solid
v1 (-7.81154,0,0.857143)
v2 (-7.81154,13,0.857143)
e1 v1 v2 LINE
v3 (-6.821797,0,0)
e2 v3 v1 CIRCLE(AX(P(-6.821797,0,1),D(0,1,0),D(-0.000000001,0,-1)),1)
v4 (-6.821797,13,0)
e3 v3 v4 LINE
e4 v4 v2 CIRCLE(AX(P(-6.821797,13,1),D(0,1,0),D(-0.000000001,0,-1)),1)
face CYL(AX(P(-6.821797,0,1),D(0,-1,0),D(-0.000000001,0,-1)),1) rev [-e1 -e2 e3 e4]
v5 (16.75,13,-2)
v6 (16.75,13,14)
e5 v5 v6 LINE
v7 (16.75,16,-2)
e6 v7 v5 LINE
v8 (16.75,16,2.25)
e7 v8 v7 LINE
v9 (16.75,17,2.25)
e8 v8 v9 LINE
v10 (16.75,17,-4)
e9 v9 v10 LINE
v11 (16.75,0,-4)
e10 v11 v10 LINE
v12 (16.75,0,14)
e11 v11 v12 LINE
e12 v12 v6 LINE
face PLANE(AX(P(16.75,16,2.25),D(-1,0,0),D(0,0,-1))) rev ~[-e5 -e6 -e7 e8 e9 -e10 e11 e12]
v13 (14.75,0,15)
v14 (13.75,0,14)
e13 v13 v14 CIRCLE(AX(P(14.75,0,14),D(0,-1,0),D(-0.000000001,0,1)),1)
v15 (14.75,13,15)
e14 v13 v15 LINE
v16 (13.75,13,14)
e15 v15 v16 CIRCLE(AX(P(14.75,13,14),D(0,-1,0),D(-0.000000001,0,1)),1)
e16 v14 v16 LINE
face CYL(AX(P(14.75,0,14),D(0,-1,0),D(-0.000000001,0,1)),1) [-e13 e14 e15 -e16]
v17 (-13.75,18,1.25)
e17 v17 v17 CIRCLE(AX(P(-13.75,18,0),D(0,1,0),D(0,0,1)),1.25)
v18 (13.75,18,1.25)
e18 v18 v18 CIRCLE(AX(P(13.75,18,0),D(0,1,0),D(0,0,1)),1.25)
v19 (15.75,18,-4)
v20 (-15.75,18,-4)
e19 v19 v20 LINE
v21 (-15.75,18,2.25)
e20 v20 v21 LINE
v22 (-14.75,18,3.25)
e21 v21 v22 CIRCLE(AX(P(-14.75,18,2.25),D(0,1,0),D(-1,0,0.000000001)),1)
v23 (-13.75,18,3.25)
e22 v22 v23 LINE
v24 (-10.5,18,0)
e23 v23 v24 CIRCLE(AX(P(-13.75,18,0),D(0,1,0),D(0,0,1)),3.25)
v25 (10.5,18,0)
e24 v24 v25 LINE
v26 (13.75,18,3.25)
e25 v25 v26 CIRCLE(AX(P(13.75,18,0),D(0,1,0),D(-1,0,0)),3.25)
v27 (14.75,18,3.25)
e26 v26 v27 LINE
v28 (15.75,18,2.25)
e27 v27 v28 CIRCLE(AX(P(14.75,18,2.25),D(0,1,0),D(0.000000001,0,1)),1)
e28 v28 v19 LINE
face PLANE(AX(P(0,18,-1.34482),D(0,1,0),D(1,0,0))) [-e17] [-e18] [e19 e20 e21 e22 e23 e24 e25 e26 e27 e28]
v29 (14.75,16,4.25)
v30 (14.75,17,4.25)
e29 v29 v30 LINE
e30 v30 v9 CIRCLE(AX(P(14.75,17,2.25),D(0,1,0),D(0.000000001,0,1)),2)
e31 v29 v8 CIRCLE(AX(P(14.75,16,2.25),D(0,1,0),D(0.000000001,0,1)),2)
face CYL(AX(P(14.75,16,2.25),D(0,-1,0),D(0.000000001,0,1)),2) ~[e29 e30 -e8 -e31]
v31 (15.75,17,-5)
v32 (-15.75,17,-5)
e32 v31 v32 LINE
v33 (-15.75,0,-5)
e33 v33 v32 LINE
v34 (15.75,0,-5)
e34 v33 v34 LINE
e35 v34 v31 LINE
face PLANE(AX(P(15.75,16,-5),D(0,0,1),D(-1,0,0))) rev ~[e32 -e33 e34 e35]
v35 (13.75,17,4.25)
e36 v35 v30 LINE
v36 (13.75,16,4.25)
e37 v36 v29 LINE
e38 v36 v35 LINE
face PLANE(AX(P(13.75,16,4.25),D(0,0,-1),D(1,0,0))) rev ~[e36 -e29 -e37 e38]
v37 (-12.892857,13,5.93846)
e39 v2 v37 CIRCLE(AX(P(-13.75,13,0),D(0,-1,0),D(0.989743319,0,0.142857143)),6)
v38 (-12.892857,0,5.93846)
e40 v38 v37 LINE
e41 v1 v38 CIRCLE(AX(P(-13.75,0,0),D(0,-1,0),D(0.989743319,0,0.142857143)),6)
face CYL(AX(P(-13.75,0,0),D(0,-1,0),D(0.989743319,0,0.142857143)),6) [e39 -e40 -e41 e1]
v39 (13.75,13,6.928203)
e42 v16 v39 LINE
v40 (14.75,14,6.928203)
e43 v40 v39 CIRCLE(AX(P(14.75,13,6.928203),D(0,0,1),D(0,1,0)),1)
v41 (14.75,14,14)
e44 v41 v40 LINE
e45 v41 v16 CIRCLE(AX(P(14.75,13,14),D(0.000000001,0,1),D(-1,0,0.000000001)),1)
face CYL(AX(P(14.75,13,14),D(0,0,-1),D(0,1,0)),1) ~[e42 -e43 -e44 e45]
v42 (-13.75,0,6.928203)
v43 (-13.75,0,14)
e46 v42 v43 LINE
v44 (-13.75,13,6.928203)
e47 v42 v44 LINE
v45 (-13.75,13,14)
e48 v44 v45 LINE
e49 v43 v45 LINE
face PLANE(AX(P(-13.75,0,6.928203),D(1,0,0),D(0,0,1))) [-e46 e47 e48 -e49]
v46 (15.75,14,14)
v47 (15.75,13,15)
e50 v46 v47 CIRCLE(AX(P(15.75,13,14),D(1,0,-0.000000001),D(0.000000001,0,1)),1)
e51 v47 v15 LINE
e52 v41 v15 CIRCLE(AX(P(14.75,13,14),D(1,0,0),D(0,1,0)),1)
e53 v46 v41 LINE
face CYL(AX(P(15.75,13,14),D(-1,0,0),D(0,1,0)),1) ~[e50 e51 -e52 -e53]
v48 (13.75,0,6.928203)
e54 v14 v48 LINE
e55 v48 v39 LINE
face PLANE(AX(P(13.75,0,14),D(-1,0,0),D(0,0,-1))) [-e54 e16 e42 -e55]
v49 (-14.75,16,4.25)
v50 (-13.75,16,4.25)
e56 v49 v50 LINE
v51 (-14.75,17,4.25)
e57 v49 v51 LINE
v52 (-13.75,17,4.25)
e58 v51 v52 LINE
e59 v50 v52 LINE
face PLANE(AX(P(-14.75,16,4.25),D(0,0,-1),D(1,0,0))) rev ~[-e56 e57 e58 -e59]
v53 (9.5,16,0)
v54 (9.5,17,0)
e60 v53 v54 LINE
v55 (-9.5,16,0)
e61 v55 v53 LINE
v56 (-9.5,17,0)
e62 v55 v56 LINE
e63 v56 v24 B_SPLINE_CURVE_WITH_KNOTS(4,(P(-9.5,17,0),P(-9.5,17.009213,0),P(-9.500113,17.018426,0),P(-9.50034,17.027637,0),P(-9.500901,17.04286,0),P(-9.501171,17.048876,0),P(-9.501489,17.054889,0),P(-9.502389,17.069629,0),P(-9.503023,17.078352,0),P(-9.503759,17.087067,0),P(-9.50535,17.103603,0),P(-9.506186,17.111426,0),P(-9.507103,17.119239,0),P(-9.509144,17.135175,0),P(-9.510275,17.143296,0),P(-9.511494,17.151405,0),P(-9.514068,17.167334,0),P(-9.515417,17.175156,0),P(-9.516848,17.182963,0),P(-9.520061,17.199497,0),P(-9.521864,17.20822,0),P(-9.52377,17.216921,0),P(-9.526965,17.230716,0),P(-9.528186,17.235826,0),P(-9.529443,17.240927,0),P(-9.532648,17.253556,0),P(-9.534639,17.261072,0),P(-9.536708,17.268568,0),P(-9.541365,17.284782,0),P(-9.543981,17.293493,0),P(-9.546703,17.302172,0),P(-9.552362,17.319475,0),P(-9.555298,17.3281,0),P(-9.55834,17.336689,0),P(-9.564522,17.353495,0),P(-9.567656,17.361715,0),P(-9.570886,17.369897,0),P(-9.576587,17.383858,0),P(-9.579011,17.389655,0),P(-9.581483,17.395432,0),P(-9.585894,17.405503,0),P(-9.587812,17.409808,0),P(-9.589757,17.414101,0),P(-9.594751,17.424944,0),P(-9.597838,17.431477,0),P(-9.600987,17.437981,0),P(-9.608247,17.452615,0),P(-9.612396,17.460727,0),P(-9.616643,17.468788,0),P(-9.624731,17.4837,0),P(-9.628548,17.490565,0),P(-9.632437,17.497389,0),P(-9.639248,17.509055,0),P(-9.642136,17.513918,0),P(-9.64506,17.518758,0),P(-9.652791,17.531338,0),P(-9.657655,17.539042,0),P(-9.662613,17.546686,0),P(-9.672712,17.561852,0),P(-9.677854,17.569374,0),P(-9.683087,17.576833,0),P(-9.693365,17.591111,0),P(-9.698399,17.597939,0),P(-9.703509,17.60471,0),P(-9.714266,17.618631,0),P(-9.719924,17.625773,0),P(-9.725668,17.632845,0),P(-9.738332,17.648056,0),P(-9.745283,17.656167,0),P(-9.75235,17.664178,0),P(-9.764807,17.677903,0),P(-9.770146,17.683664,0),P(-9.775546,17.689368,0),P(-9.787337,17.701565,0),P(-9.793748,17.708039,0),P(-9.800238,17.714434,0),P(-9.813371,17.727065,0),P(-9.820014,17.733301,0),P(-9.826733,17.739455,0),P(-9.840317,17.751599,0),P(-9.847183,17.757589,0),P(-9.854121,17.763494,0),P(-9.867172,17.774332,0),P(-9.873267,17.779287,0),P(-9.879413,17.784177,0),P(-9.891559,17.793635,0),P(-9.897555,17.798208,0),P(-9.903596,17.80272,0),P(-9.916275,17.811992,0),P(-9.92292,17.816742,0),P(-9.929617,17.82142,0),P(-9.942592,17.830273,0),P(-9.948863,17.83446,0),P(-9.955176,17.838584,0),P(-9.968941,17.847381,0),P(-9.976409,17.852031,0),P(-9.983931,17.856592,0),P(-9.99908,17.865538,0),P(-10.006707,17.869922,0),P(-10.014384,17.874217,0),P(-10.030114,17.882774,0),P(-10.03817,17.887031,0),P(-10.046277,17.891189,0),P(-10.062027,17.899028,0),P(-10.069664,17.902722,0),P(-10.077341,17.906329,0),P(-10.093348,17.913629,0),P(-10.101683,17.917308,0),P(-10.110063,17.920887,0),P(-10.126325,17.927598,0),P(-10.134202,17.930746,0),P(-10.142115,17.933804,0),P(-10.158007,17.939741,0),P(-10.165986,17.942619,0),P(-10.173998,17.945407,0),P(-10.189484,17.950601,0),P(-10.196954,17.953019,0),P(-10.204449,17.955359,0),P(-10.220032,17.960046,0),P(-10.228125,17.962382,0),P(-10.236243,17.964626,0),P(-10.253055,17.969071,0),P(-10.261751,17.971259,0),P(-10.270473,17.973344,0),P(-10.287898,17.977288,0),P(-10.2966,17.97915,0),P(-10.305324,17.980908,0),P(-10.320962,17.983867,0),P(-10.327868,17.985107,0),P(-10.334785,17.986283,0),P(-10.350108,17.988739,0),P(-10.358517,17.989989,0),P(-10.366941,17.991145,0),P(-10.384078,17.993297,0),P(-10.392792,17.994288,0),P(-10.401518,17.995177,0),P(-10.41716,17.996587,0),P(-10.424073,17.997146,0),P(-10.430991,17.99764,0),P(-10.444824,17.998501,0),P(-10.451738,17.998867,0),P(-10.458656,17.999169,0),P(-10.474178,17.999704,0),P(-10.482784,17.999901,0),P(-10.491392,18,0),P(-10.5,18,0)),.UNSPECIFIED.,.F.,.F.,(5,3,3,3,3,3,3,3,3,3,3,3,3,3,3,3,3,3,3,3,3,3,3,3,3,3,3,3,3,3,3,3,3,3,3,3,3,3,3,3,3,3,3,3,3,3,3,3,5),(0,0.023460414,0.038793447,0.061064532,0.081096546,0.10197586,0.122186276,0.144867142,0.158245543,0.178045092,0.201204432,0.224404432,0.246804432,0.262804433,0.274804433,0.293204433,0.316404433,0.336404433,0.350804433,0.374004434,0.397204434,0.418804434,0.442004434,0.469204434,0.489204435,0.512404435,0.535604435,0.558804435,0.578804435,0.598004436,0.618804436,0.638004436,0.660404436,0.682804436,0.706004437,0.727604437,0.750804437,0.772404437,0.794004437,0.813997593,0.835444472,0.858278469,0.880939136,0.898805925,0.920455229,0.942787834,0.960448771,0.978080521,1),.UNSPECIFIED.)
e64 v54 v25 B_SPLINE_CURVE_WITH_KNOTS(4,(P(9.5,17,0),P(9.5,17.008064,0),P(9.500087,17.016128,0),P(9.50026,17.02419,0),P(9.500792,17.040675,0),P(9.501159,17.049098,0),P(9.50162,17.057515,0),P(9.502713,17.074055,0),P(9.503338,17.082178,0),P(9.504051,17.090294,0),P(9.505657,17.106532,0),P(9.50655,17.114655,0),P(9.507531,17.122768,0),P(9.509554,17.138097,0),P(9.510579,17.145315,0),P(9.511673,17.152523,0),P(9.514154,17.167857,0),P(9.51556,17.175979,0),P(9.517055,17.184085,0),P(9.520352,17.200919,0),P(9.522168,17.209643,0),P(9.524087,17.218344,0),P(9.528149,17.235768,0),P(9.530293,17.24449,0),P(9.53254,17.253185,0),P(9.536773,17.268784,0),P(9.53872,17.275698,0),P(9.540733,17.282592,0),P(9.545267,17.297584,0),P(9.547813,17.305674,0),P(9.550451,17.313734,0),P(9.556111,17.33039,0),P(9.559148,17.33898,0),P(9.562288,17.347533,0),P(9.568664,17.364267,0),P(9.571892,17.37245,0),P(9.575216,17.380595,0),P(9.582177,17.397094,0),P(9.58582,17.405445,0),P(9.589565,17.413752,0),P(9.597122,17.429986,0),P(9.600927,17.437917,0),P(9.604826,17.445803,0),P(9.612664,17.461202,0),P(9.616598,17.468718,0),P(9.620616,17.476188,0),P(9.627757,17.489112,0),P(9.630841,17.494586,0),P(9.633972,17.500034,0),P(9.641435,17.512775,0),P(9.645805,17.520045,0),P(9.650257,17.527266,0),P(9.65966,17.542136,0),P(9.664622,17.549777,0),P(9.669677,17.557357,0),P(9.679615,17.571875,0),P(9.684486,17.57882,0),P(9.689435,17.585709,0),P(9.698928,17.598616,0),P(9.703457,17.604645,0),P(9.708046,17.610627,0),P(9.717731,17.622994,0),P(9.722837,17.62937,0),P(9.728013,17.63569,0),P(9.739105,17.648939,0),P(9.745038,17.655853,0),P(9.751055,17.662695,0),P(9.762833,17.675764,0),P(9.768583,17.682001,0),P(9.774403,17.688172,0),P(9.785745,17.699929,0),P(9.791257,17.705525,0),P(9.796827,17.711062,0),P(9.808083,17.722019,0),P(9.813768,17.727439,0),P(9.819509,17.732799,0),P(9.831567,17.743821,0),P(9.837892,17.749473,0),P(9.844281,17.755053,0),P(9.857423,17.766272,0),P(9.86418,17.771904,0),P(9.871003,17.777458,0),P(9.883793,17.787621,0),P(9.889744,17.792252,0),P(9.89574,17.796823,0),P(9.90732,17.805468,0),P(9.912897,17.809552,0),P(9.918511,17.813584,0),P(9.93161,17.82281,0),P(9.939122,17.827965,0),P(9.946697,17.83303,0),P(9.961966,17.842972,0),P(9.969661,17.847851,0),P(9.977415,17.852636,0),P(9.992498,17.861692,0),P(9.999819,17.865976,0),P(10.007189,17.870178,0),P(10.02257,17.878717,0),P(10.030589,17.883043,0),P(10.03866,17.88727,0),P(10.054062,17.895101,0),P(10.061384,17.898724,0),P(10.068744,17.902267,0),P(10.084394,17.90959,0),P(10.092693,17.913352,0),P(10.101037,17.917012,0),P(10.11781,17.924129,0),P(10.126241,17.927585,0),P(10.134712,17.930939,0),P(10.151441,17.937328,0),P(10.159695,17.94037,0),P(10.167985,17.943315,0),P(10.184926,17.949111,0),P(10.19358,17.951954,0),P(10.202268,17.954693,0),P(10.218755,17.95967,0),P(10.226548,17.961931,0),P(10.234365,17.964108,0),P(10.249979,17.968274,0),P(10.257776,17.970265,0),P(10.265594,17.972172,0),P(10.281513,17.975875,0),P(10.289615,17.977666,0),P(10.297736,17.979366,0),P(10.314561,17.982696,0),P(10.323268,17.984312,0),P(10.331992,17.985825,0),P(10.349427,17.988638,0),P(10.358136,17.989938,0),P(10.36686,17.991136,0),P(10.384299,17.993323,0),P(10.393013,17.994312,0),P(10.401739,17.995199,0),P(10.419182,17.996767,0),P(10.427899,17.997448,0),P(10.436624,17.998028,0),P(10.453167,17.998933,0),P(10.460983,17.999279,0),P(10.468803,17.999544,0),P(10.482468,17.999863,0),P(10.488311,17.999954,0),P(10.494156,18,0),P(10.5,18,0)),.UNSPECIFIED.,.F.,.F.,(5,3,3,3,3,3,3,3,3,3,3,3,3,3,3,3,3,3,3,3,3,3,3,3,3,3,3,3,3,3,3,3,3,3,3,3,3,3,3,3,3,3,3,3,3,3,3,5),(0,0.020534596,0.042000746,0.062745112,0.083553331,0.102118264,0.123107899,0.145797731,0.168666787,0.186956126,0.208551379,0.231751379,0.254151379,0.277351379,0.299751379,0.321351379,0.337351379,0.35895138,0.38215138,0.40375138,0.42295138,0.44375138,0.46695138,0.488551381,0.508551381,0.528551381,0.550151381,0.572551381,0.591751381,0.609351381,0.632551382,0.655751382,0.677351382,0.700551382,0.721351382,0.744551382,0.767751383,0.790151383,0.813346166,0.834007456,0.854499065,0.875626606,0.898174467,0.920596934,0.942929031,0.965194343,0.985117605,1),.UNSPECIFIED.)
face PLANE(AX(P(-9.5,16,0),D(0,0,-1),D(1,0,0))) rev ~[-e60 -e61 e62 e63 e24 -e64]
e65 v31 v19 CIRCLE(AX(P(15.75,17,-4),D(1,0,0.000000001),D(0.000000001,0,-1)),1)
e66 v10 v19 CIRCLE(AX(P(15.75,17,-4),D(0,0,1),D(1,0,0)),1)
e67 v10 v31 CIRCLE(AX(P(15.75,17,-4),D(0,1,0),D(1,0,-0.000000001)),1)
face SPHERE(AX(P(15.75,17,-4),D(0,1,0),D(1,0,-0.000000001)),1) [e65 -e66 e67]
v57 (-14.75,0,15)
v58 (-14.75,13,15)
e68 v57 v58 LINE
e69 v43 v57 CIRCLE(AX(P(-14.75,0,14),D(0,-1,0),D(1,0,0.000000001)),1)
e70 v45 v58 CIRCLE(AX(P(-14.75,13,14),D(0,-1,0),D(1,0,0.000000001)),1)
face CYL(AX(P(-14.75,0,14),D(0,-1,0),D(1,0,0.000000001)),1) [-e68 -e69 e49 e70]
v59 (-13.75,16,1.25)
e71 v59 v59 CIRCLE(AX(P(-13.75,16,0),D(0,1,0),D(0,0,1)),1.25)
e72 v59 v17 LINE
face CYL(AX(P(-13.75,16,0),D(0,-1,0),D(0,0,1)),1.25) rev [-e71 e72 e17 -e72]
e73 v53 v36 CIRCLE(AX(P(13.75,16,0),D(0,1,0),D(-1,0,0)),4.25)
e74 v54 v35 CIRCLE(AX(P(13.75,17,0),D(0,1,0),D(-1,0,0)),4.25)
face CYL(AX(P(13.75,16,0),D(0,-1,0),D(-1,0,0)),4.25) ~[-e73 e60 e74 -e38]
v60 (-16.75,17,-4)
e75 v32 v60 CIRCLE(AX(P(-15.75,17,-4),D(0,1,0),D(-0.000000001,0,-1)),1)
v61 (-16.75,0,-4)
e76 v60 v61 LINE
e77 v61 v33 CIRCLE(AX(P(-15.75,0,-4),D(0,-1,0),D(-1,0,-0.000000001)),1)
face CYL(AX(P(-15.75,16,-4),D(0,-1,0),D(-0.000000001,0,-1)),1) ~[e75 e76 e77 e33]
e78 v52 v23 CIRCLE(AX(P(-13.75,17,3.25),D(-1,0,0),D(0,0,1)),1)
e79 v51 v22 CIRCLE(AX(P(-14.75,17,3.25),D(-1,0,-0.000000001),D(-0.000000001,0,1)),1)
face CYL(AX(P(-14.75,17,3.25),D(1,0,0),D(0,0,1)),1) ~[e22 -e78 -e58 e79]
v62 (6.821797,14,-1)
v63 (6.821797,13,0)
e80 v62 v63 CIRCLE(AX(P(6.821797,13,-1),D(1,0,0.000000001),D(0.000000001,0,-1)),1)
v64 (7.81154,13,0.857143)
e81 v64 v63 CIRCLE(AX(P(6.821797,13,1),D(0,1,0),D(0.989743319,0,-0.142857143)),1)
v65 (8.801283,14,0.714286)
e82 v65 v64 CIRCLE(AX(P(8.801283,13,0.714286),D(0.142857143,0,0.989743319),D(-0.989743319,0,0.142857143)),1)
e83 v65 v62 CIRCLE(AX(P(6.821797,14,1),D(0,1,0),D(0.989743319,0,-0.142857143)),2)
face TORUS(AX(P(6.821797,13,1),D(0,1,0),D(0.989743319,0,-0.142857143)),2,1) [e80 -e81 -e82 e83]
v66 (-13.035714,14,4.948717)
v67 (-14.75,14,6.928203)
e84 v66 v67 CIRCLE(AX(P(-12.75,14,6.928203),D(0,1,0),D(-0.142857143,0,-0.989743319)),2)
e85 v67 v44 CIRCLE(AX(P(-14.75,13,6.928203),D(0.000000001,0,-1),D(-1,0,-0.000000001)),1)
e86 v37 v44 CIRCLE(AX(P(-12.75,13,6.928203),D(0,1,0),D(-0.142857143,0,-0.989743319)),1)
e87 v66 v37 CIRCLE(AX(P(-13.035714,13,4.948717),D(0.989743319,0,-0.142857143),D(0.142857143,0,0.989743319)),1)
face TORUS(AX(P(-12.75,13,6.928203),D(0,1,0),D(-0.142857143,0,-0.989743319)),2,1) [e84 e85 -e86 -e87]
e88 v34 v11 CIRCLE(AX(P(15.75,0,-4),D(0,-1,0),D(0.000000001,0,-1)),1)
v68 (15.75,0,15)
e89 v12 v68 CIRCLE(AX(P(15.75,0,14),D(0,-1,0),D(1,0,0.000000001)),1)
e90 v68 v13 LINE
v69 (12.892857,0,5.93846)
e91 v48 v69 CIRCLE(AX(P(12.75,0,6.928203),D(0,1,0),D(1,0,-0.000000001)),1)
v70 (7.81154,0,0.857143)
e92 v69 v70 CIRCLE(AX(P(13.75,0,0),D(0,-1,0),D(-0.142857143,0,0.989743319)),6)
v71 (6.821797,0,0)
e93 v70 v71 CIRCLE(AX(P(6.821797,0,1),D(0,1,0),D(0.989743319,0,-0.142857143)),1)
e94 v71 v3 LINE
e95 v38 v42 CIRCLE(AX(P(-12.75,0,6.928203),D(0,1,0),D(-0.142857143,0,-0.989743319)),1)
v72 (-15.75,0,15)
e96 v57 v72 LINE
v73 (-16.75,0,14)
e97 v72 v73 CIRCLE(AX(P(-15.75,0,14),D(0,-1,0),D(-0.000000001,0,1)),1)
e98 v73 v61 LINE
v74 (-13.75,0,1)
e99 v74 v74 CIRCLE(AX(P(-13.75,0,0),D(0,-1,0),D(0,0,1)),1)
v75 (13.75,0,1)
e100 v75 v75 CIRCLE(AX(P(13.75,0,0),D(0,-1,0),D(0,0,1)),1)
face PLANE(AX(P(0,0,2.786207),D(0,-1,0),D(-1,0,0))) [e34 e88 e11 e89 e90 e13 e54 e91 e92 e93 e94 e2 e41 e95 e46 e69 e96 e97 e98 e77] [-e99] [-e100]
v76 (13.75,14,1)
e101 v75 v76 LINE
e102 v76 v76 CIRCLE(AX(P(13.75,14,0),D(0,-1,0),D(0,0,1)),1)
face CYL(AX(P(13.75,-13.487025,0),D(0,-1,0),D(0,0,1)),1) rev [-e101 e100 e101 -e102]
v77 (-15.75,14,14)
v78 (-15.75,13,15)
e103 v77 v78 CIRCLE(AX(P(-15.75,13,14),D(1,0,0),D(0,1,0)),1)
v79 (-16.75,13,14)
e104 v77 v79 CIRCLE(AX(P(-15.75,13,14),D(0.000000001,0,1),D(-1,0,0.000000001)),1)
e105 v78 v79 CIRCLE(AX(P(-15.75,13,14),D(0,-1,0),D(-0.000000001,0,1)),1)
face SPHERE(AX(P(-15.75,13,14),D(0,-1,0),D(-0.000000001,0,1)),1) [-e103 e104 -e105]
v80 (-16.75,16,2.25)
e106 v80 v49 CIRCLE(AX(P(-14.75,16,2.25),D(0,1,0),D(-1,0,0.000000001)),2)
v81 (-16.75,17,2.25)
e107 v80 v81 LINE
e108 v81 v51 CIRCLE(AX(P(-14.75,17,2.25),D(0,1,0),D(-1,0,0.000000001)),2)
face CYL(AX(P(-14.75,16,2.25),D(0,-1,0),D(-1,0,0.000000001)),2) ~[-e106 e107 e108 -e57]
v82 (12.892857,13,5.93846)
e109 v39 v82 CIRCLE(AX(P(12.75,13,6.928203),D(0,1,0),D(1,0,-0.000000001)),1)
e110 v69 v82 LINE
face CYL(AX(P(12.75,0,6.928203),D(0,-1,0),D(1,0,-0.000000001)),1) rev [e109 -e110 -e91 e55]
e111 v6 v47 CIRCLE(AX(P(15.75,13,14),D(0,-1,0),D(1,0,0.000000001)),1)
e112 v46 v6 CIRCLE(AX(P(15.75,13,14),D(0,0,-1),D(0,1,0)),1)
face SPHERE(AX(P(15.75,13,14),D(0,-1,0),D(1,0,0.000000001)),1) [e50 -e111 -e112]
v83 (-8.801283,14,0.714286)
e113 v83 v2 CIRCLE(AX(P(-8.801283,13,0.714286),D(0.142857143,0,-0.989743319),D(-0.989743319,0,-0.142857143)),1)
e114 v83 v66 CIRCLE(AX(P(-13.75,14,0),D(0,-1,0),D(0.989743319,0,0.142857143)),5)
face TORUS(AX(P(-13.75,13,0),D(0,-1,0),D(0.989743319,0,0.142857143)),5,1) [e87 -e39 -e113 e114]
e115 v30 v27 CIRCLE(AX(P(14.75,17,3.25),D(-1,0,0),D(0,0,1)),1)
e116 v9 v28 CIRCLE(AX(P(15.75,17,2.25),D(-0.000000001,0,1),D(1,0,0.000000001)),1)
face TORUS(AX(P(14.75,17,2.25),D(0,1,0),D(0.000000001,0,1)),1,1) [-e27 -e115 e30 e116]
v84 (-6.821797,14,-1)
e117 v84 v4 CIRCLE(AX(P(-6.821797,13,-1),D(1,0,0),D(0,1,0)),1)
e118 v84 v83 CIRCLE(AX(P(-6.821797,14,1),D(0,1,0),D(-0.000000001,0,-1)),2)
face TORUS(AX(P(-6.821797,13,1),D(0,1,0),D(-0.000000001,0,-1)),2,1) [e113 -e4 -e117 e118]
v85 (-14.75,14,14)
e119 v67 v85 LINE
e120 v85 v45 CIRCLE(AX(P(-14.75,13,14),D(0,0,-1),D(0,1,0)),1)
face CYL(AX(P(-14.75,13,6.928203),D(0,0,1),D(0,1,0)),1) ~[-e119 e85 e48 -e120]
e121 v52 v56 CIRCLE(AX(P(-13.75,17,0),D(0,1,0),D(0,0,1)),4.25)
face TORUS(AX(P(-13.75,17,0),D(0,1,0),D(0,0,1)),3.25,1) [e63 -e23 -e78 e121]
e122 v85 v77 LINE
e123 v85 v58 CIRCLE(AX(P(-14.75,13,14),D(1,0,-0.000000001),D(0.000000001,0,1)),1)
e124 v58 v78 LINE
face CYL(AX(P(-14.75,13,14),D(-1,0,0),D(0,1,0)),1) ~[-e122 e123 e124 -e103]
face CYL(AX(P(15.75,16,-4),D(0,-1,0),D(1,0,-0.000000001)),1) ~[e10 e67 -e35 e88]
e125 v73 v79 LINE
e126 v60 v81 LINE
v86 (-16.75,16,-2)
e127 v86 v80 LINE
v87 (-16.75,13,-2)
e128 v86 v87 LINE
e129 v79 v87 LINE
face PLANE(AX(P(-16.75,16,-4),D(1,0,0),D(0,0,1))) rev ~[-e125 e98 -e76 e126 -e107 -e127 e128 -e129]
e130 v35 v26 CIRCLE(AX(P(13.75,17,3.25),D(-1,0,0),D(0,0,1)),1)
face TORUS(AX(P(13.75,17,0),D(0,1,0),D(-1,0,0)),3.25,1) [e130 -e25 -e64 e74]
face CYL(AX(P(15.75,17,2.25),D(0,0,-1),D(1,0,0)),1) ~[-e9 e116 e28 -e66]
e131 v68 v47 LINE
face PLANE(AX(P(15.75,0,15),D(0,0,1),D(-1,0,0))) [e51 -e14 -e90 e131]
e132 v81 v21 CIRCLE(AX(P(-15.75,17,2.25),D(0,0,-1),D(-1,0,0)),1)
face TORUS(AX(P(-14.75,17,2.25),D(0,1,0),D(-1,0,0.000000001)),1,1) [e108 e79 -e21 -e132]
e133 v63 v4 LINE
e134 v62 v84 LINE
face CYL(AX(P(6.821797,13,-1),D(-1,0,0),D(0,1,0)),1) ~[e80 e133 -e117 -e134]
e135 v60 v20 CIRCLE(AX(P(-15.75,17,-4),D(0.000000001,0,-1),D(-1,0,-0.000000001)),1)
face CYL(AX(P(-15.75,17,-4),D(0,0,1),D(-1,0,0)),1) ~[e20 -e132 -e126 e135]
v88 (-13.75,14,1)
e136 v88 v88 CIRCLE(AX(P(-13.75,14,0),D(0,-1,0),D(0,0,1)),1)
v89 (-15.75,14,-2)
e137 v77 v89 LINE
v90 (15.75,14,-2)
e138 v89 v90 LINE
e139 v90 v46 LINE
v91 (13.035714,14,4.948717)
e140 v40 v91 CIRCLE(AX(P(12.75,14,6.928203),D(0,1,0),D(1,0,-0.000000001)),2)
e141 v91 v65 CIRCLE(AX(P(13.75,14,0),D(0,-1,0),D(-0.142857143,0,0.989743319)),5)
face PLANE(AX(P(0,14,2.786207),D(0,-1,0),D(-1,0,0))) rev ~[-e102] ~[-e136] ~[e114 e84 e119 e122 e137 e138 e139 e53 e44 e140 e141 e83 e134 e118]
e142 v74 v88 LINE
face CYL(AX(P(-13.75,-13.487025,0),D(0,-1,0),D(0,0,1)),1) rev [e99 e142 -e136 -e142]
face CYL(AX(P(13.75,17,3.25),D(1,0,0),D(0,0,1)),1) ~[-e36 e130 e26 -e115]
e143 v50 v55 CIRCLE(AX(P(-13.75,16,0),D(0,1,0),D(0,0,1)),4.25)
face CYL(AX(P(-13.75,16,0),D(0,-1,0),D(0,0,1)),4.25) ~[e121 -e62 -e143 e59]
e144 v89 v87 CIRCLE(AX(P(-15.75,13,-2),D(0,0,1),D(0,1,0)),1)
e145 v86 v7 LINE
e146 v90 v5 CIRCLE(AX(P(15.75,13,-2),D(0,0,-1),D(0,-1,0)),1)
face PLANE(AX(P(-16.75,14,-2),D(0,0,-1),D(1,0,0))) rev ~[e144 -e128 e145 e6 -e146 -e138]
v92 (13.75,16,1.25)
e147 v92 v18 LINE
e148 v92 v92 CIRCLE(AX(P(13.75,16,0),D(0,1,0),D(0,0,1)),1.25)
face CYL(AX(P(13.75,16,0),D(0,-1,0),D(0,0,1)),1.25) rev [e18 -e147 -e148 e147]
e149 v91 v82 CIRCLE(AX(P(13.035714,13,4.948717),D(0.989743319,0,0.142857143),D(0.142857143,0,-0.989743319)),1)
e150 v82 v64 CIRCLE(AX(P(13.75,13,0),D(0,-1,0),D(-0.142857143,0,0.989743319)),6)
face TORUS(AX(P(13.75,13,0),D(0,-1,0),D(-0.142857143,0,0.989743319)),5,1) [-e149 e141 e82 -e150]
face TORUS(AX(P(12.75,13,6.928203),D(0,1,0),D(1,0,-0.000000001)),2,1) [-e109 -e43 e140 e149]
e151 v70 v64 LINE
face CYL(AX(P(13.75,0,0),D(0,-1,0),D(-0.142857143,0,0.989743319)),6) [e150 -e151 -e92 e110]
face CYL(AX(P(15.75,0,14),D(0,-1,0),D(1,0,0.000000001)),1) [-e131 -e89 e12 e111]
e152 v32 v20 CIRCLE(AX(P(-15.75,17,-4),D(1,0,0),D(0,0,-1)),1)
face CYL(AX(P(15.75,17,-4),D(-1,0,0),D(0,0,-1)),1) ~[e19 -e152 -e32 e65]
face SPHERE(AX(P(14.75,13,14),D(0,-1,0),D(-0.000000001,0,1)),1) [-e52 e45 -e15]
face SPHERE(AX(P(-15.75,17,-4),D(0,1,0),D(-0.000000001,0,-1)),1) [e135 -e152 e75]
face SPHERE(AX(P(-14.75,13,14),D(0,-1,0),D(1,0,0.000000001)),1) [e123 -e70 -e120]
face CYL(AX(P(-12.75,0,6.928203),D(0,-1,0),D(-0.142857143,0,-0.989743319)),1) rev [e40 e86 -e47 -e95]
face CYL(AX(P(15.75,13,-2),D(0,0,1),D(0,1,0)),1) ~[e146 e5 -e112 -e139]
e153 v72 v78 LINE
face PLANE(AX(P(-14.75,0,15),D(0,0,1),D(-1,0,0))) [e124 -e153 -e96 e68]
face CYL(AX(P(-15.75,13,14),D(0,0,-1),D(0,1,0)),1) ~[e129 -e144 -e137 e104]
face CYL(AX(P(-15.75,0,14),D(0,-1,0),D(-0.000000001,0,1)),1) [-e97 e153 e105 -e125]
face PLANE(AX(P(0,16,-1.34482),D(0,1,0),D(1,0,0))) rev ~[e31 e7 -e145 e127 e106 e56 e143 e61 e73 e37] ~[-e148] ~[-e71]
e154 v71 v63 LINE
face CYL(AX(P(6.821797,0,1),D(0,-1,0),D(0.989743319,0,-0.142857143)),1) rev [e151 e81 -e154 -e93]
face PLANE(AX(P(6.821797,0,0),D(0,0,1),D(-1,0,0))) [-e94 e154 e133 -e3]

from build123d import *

# Parameters (mm, degrees)
MAIN_BODY_DEPTH                = 14
EXTENSION_FOR_TOP_FLANGE_DEPTH = 2
SKETCH4_R                      = 1.25
TOP_CAMERA_FLANGE_DEPTH        = 2
M2_SCREWHOLE_DEPTH             = 27.487025126
M2_SCREWHOLE_DEPTH_BACK        = 27.487025126
SKETCH5_R                      = 1
FILLET1_R                      = 1


with BuildPart() as part:
    # Sketch2 → Main body (new body)
    with BuildSketch(Plane(origin=(0, 0, 0), x_dir=(1, 0, 0), z_dir=(0, 1, 0))):
        with BuildLine():
            Line((-16.75, -14), (-16.75, 4))
            ThreePointArc((-16.75, 4), (-16.457106781, 4.707106781), (-15.75, 5))
            Line((-15.75, 5), (15.75, 5))
            ThreePointArc((15.75, 5), (16.457106781, 4.707106781), (16.75, 4))
            Line((16.75, 4), (16.75, -14))
            ThreePointArc((16.75, -14), (16.457106781, -14.707106781), (15.75, -15))
            Line((15.75, -15), (14.75, -15))
            ThreePointArc((14.75, -15), (14.042893219, -14.707106781), (13.75, -14))
            Line((13.75, -14), (13.75, -6.92820323))
            ThreePointArc((13.75, -6.92820323), (13.505928946, -6.27354956), (12.892857143, -5.938459912))
            ThreePointArc((12.892857143, -5.938459912), (9.507359313, -4.242640687), (7.811540088, -0.857142857))
            ThreePointArc((7.811540088, -0.857142857), (7.47645044, -0.244071054), (6.82179677, 0))
            Line((6.82179677, 0), (-6.82179677, 0))
            ThreePointArc((-6.82179677, 0), (-7.47645044, -0.244071054), (-7.811540088, -0.857142857))
            ThreePointArc((-7.811540088, -0.857142857), (-9.507359313, -4.242640687), (-12.892857143, -5.938459912))
            ThreePointArc((-12.892857143, -5.938459912), (-13.505928946, -6.27354956), (-13.75, -6.92820323))
            Line((-13.75, -6.92820323), (-13.75, -14))
            ThreePointArc((-13.75, -14), (-14.042893219, -14.707106781), (-14.75, -15))
            Line((-14.75, -15), (-15.75, -15))
            ThreePointArc((-15.75, -15), (-16.457106781, -14.707106781), (-16.75, -14))
        make_face()
    extrude(amount=MAIN_BODY_DEPTH)

    # Sketch3 → Extension for top flange (add)
    with BuildSketch(Plane(origin=(0, 14, 0), x_dir=(1, 0, 0), z_dir=(0, 1, 0))):
        with BuildLine():
            Line((16.75, 2), (16.75, 4))
            ThreePointArc((16.75, 4), (16.457106781, 4.707106781), (15.75, 5))
            Line((15.75, 5), (-15.75, 5))
            ThreePointArc((-15.75, 5), (-16.457106781, 4.707106781), (-16.75, 4))
            Line((-16.75, 4), (-16.75, 2))
            Line((-16.75, 2), (16.75, 2))
        make_face()
    extrude(amount=EXTENSION_FOR_TOP_FLANGE_DEPTH)

    # Sketch4 → Top camera flange (add)
    with BuildSketch(Plane(origin=(0, 16, 0), x_dir=(1, 0, 0), z_dir=(0, 1, 0))):
        with BuildLine():
            Line((16.75, -2.25), (16.75, 2))
            Line((16.75, 2), (16.75, 4))
            ThreePointArc((16.75, 4), (16.457106781, 4.707106781), (15.75, 5))
            Line((15.75, 5), (-15.75, 5))
            ThreePointArc((-15.75, 5), (-16.457106781, 4.707106781), (-16.75, 4))
            Line((-16.75, 4), (-16.75, 2))
            Line((-16.75, 2), (-16.75, -2.25))
            ThreePointArc((-16.75, -2.25), (-16.164213562, -3.664213562), (-14.75, -4.25))
            Line((-14.75, -4.25), (-13.75, -4.25))
            ThreePointArc((-13.75, -4.25), (-10.74479618, -3.00520382), (-9.5, 0))
            Line((-9.5, 0), (9.5, 0))
            ThreePointArc((9.5, 0), (10.74479618, -3.00520382), (13.75, -4.25))
            Line((13.75, -4.25), (14.75, -4.25))
            ThreePointArc((14.75, -4.25), (16.164213562, -3.664213562), (16.75, -2.25))
        make_face()
        with Locations(Location((-13.75, 0, 0), (0, 0, 270))):
            Circle(SKETCH4_R, mode=Mode.SUBTRACT)
        with Locations(Location((13.75, 0, 0), (0, 0, 270))):
            Circle(SKETCH4_R, mode=Mode.SUBTRACT)
    extrude(amount=TOP_CAMERA_FLANGE_DEPTH)

    # Sketch5 → M2 screwhole (cut, two sides: drawn at the far end of the back side and taken through both)
    with BuildSketch(Plane(origin=(0, 14, 0), x_dir=(1, 0, 0), z_dir=(0, 1, 0)).offset(-M2_SCREWHOLE_DEPTH_BACK)):
        with Locations(Location((-13.75, 0, 0), (0, 0, 270))):
            Circle(SKETCH5_R)
        with Locations(Location((13.75, 0, 0), (0, 0, 270))):
            Circle(SKETCH5_R)
    extrude(amount=M2_SCREWHOLE_DEPTH + M2_SCREWHOLE_DEPTH_BACK, mode=Mode.SUBTRACT)

    # Fillet1
    fillet1_edges = [part.edges().sort_by_distance(p)[0] for p in [
        (-13.505928946, 14, 6.27354956),
        (-9.507359313, 14, 4.242640687),
        (-7.47645044, 14, 0.244071054),
        (0, 14, 0),
        (7.47645044, 14, 0.244071054),
        (9.507359313, 14, 4.242640687),
        (13.505928946, 14, 6.27354956),
        (13.75, 14, 10.464101615),
        (14.042893219, 14, 14.707106781),
        (15.25, 14, 15),
        (-14.042893219, 14, 14.707106781),
        (16.457106781, 14, 14.707106781),
        (16.75, 14, 6),
        (-16.75, 14, 6),
        (16.75, 18, -0.875),
        (16.457106781, 18, -4.707106781),
        (0, 18, -5),
        (-16.457106781, 18, -4.707106781),
        (-16.75, 18, -0.875),
        (-16.457106781, 14, 14.707106781),
        (-16.164213562, 18, 3.664213562),
        (-14.25, 18, 4.25),
        (-10.74479618, 18, 3.00520382),
        (10.74479618, 18, 3.00520382),
        (14.25, 18, 4.25),
        (16.164213562, 18, 3.664213562),
        (-15.25, 14, 15),
        (-13.75, 14, 10.464101615),
    ]]
    fillet(fillet1_edges, radius=FILLET1_R)


solid = part.part
